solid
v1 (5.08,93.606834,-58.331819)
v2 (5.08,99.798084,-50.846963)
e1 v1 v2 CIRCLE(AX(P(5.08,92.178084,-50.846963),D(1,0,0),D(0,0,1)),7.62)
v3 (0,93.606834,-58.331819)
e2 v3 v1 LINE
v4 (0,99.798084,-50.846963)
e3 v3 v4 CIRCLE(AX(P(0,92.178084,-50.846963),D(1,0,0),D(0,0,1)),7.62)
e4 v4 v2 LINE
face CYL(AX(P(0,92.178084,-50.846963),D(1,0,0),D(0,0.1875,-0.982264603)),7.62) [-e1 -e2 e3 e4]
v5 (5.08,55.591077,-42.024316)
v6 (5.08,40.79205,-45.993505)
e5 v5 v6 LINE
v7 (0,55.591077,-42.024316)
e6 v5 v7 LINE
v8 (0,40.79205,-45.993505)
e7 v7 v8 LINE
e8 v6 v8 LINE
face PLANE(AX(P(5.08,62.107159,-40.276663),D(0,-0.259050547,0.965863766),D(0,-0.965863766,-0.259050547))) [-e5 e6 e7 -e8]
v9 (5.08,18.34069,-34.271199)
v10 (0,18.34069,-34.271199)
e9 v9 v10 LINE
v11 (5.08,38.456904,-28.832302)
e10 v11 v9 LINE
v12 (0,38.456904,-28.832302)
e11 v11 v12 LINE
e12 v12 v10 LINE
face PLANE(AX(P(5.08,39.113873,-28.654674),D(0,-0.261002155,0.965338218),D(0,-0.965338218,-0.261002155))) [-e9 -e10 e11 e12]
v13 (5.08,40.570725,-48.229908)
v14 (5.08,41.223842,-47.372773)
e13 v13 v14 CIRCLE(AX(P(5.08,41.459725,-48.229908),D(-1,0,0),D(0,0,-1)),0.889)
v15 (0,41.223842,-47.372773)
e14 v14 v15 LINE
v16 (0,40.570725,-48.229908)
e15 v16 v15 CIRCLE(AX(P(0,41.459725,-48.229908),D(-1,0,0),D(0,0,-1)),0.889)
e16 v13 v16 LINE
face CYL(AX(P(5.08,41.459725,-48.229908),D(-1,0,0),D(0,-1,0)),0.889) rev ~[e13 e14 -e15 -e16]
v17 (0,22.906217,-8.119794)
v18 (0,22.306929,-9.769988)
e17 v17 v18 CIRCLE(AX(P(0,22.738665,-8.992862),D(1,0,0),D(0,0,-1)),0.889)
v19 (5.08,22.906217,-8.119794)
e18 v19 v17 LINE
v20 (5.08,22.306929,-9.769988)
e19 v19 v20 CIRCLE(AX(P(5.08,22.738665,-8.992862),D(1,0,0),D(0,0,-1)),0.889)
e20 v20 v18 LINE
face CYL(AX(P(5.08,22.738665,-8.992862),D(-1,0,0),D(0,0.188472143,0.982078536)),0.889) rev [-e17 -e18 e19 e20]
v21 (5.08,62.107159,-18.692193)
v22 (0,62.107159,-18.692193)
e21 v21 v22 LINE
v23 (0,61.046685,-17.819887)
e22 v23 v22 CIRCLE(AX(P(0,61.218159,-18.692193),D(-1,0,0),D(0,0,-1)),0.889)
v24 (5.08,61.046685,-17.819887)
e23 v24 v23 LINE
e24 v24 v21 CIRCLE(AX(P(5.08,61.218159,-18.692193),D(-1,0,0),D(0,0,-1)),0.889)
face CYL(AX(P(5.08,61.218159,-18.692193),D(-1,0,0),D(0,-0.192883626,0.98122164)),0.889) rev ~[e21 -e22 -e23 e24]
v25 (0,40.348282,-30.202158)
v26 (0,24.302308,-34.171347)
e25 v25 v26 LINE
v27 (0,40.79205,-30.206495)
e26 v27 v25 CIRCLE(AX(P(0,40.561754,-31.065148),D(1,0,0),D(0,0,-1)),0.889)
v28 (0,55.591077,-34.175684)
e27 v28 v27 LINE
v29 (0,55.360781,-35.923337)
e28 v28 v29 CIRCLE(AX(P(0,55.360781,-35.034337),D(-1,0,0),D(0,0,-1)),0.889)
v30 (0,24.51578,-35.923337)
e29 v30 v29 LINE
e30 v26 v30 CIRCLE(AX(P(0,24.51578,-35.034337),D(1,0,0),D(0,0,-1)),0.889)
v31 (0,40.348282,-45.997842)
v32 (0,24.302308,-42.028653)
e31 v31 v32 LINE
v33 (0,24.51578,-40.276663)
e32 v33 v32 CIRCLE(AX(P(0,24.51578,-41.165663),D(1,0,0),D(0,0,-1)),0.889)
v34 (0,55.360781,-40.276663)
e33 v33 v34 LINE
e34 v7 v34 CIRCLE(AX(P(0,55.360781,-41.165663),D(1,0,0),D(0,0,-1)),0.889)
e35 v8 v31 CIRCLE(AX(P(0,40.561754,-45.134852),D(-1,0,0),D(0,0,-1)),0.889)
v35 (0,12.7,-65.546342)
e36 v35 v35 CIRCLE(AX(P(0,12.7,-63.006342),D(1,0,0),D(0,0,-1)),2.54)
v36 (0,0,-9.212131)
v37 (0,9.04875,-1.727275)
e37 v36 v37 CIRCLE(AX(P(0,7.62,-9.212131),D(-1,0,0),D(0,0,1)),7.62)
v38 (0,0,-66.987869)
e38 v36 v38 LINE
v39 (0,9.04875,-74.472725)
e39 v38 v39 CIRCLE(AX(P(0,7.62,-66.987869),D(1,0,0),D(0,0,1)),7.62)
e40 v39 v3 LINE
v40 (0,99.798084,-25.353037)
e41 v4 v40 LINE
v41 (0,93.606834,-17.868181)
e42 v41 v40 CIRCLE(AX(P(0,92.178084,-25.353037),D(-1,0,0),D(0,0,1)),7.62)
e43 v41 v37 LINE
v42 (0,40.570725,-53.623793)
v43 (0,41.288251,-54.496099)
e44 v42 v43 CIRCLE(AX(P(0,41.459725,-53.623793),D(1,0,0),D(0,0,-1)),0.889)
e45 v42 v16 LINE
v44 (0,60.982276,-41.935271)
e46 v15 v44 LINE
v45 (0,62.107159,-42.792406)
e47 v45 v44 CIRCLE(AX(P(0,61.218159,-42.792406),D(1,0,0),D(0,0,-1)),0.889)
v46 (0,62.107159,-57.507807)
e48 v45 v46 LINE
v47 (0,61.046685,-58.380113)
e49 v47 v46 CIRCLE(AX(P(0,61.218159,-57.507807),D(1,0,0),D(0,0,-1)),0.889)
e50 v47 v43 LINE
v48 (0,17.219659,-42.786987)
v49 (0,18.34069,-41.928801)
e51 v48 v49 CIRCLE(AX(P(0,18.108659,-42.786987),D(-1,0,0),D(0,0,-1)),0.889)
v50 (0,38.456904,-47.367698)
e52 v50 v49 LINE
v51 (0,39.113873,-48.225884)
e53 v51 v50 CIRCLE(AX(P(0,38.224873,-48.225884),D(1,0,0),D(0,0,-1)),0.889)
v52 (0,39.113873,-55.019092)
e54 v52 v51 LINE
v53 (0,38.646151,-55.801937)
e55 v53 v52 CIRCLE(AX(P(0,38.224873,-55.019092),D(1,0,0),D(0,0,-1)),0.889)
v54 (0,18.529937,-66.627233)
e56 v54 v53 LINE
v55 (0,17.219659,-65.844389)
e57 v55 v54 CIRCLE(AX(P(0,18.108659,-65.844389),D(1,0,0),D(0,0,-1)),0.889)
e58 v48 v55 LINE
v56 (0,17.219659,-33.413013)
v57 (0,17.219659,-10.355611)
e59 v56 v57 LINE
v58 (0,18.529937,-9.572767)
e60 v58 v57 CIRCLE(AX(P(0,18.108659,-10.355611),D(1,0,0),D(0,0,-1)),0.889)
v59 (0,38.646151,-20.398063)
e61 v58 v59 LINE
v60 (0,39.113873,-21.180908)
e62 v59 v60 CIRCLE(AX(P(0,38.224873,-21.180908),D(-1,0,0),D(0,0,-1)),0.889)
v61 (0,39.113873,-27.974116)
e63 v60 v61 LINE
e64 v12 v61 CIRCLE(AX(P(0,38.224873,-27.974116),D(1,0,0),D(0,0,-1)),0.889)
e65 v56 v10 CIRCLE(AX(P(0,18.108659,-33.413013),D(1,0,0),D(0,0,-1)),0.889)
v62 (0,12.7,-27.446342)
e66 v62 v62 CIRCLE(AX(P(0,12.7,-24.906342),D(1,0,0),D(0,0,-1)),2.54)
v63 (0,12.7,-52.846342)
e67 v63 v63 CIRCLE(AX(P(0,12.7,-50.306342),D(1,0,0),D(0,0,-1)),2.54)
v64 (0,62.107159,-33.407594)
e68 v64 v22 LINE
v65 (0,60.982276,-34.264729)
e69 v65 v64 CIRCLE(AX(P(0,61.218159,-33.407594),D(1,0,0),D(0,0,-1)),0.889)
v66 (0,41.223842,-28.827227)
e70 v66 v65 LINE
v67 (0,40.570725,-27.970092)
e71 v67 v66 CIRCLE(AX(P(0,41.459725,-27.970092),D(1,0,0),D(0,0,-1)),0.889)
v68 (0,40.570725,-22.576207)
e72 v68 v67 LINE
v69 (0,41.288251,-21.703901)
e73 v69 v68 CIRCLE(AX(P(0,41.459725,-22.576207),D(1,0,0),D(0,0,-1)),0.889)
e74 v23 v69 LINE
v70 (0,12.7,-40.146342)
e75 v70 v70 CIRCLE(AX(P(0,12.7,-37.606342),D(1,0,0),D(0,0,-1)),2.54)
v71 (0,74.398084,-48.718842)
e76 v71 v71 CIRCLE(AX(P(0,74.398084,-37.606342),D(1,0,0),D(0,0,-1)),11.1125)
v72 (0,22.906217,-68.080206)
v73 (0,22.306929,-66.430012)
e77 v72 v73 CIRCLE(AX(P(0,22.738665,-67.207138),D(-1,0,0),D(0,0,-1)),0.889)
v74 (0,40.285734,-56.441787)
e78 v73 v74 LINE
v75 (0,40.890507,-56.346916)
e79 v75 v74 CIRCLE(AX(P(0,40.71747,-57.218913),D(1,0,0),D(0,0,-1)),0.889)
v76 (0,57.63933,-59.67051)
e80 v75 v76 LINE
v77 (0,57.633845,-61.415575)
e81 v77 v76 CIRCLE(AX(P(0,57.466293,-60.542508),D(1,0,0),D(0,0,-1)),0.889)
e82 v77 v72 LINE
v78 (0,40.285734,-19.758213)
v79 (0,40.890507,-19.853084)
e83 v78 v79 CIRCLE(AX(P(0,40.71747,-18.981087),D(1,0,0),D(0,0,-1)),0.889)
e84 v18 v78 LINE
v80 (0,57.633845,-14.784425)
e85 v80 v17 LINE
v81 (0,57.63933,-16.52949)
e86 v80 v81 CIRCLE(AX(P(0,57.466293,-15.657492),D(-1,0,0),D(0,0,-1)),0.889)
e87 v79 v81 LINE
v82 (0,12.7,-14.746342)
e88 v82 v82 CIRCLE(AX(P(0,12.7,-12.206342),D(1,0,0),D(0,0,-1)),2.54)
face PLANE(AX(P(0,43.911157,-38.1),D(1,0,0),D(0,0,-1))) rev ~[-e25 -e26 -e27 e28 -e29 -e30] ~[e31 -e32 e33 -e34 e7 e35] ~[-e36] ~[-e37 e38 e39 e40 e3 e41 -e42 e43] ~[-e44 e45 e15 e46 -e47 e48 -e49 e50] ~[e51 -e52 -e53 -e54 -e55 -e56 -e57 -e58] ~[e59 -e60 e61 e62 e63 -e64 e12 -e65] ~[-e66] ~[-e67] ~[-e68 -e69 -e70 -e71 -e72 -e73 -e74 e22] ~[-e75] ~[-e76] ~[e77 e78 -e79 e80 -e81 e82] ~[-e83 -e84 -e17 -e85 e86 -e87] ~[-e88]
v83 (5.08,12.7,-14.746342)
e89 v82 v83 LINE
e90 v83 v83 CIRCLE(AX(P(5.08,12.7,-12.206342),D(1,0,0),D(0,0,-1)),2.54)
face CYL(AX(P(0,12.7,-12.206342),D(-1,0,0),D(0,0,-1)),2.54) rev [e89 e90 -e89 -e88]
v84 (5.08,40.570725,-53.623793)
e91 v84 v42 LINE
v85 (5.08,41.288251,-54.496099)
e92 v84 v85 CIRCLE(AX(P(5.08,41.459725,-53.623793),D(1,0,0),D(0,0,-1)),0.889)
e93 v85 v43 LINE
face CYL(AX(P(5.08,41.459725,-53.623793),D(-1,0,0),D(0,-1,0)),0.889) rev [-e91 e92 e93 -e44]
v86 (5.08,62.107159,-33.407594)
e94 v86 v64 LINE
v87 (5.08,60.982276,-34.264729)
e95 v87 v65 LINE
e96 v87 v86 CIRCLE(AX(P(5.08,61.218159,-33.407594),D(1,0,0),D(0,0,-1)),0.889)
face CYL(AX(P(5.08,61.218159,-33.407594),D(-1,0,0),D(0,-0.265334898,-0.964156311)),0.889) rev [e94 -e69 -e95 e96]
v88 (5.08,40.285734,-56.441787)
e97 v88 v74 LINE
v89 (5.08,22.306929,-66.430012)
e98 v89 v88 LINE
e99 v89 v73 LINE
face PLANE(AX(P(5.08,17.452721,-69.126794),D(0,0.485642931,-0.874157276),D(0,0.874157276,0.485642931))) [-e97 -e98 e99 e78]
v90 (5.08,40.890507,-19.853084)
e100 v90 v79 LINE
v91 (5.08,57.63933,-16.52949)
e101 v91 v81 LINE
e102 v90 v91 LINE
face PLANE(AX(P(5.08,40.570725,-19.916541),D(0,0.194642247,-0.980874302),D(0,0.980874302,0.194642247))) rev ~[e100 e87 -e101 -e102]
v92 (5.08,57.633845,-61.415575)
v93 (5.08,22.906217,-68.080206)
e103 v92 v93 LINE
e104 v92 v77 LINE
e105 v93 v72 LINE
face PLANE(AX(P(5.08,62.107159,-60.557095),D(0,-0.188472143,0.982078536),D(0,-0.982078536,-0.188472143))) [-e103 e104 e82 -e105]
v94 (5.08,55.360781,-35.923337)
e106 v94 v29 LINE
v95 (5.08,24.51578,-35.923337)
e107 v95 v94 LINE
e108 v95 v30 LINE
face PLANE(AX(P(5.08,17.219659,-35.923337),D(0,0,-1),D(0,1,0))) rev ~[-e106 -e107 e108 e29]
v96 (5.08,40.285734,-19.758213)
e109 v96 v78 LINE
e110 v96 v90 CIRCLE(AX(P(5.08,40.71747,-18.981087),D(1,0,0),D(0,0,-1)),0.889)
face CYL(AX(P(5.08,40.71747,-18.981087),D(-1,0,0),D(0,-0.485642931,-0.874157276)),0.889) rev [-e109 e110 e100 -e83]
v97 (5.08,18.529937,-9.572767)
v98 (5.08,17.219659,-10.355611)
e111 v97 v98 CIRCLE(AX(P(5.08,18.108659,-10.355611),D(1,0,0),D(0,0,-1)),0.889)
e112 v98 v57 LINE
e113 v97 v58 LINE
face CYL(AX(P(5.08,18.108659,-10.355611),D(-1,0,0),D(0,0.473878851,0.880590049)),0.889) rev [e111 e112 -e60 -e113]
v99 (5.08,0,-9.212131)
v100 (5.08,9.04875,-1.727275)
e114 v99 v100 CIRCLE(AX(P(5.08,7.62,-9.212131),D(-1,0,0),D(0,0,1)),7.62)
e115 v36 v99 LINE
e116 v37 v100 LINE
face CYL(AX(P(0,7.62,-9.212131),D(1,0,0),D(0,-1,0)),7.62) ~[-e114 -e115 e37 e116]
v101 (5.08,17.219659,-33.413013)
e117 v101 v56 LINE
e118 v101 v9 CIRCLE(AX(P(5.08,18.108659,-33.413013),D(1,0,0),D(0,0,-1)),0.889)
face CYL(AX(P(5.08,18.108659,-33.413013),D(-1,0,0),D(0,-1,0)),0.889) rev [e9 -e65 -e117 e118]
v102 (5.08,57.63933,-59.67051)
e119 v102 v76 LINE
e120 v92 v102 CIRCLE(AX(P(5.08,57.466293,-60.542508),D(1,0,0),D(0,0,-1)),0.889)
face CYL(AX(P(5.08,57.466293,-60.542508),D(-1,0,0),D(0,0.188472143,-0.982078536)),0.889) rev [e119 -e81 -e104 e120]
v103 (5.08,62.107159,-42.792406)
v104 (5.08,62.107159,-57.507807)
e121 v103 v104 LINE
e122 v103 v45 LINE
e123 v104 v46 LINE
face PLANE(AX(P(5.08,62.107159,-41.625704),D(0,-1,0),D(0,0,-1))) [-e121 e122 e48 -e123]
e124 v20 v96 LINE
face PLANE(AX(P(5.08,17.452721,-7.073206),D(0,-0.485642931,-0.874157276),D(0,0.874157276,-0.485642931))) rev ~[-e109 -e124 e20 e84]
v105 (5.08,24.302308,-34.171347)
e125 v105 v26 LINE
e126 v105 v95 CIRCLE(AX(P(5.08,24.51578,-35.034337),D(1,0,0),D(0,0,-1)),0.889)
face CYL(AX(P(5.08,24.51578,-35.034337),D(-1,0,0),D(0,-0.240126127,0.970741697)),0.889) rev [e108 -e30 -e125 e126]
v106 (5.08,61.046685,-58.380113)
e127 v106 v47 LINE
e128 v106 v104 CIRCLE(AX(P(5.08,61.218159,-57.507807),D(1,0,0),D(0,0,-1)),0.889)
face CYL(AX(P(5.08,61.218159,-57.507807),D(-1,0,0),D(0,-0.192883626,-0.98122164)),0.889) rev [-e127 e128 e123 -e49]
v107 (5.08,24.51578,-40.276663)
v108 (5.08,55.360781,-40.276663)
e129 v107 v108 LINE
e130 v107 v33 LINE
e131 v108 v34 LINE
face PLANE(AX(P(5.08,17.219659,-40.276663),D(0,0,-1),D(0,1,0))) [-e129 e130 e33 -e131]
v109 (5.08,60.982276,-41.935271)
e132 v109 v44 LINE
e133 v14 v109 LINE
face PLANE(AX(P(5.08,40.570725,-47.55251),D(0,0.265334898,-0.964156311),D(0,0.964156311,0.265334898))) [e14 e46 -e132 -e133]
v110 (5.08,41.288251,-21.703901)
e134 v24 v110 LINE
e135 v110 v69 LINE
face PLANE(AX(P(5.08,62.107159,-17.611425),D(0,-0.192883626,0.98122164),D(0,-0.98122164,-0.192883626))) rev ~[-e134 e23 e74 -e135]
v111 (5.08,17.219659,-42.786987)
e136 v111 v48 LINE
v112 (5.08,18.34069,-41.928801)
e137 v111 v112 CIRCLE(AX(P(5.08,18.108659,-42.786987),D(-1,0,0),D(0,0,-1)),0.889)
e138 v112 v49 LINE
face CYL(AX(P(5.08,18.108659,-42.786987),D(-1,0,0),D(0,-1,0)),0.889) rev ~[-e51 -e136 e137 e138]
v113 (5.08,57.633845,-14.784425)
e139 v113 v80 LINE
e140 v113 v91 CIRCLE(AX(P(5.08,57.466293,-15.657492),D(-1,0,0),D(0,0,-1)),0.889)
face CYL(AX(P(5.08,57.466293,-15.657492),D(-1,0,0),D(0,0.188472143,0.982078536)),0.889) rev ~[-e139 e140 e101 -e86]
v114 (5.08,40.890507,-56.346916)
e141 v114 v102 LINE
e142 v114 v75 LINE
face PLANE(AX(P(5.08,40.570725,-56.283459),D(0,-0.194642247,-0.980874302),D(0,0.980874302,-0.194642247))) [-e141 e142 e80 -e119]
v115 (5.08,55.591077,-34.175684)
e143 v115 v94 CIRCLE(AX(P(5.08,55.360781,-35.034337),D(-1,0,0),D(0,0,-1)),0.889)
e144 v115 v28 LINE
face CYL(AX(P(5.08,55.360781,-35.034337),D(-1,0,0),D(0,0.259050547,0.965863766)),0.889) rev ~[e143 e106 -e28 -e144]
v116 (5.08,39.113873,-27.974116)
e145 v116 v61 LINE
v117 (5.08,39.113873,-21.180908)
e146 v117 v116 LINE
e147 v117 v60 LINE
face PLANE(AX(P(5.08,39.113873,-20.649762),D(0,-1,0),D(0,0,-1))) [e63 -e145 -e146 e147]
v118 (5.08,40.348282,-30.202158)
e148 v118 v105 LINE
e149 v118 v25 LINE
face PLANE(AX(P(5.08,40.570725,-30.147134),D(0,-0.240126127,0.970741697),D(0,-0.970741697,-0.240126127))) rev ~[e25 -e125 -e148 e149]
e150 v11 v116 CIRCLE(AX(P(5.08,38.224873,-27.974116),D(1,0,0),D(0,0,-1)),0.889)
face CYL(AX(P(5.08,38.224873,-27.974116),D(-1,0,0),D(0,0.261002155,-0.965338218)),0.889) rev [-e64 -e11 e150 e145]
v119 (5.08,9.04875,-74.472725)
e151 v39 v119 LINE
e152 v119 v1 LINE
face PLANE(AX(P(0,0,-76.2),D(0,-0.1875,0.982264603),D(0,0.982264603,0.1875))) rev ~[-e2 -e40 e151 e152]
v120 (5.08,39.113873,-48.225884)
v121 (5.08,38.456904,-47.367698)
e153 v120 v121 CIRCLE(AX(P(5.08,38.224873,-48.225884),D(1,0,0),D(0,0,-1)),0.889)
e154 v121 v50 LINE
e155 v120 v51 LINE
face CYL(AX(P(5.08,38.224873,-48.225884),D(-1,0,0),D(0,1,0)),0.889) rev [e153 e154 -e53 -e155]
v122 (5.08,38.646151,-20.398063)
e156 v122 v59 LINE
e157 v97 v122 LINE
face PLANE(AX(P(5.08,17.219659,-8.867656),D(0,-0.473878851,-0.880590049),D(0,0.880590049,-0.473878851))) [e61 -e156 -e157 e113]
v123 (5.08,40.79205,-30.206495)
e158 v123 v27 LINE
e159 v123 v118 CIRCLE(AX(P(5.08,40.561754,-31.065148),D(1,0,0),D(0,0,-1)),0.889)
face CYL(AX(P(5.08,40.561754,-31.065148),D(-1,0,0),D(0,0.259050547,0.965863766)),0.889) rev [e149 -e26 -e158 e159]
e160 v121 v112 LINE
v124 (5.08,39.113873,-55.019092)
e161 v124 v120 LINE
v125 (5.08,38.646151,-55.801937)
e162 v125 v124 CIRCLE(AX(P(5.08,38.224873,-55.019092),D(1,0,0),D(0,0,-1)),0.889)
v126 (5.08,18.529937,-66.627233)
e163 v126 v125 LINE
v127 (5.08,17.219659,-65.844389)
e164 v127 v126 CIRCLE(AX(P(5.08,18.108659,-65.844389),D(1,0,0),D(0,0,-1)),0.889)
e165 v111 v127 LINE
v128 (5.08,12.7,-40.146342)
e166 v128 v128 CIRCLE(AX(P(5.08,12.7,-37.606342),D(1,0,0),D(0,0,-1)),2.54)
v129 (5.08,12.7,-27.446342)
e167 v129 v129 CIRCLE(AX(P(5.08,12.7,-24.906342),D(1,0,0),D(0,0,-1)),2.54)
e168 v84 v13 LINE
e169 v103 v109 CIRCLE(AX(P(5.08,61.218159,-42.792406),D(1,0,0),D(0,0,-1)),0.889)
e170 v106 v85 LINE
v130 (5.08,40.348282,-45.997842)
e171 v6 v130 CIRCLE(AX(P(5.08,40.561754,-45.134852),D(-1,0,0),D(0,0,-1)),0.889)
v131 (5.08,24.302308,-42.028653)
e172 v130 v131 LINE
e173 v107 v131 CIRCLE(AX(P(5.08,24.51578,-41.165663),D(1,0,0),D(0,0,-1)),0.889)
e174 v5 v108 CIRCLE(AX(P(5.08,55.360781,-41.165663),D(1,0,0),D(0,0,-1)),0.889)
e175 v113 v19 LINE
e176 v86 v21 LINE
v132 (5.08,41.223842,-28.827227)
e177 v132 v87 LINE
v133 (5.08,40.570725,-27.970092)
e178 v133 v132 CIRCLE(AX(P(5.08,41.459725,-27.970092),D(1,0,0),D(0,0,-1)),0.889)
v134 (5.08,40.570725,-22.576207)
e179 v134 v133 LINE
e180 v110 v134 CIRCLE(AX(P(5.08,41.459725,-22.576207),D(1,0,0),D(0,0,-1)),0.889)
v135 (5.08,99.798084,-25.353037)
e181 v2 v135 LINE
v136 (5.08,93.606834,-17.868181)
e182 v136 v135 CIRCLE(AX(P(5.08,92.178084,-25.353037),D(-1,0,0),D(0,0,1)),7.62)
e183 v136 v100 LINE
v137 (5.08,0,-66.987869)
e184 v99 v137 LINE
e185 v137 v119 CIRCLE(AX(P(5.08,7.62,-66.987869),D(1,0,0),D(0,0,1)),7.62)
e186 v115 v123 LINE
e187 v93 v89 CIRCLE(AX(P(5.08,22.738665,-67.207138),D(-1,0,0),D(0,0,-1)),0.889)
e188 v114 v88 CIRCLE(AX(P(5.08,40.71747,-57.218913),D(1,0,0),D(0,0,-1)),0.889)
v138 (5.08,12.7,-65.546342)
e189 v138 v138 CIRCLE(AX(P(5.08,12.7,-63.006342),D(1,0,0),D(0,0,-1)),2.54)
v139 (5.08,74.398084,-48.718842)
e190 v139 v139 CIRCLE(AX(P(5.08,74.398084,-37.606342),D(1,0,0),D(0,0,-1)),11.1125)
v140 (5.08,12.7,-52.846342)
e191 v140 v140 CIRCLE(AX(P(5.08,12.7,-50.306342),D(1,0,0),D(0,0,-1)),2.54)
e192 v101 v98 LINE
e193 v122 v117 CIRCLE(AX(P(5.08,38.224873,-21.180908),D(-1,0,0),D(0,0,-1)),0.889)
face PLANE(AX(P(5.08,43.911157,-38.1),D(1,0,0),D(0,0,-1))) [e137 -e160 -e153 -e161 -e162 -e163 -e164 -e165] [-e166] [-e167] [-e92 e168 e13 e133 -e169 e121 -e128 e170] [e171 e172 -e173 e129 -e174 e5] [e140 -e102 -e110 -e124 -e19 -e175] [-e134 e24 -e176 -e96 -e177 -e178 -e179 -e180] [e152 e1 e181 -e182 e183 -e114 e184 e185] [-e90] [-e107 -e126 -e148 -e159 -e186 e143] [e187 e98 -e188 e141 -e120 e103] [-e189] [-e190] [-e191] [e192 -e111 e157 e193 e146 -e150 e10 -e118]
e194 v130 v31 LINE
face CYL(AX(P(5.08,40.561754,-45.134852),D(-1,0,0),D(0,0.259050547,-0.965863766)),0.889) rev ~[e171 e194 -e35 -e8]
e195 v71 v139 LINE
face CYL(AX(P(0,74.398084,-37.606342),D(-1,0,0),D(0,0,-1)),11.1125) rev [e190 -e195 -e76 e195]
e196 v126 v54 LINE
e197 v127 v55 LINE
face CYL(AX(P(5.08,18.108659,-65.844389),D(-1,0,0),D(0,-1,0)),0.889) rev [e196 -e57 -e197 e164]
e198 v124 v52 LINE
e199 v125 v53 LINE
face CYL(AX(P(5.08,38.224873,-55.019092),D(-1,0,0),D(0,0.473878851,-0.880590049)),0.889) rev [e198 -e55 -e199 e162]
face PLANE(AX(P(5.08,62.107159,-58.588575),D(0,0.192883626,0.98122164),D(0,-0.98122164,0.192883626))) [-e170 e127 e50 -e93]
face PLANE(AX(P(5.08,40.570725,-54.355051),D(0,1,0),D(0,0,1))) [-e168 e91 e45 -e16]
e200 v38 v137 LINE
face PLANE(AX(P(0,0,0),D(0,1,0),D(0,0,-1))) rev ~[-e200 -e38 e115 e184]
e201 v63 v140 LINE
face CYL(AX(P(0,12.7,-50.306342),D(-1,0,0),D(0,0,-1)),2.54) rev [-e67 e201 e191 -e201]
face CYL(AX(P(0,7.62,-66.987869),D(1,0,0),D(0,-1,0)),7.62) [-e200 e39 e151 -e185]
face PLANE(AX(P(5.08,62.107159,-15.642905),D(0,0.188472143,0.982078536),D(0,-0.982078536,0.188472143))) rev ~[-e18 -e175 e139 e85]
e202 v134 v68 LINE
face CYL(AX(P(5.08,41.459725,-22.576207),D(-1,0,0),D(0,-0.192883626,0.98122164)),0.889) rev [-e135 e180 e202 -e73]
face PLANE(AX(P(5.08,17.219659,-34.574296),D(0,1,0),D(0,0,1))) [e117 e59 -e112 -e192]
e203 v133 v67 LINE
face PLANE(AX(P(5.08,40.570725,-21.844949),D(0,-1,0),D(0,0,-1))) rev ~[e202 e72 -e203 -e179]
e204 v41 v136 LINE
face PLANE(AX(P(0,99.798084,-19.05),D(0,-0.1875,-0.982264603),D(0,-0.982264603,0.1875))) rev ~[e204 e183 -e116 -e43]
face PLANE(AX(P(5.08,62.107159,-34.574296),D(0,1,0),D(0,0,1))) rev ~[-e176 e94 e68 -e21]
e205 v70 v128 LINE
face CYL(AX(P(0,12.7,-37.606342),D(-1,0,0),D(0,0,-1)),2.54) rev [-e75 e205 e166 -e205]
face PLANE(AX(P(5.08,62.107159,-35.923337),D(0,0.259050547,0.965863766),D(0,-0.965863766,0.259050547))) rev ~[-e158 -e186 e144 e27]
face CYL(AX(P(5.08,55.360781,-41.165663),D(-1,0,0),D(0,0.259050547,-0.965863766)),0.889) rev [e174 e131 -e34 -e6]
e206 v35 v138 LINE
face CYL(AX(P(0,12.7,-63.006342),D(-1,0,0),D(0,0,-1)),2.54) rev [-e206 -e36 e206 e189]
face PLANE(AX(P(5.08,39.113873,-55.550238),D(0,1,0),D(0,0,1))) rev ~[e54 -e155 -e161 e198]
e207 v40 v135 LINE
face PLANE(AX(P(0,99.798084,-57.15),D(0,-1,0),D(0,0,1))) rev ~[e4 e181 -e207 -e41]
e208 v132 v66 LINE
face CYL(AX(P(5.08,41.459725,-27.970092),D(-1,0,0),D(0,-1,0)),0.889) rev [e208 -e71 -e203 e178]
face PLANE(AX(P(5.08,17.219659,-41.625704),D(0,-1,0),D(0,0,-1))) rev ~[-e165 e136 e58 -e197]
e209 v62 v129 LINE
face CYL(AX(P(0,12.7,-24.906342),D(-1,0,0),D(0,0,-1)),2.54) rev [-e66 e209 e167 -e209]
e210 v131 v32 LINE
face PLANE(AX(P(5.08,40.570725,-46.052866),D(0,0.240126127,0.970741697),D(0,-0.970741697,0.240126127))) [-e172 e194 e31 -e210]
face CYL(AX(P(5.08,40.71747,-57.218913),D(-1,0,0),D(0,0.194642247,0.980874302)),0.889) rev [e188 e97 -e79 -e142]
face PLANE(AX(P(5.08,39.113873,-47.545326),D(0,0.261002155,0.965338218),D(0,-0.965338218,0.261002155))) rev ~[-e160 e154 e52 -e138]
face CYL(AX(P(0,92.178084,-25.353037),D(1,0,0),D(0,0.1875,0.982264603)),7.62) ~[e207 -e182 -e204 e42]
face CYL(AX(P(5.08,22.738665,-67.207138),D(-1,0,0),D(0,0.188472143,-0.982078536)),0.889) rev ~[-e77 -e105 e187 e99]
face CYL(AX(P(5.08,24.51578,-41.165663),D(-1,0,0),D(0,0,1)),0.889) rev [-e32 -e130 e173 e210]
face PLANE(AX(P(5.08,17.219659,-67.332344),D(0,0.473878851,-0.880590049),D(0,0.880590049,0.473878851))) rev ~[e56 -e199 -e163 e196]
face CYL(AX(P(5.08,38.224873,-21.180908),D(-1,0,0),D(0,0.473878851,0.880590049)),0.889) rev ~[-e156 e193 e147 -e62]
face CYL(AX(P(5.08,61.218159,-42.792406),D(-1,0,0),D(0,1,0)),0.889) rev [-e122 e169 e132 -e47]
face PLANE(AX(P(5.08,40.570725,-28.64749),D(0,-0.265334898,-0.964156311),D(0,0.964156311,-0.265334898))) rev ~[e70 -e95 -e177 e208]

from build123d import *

# Parameters (mm, degrees)
SKETCH1_R           = 11.1125
SKETCH1_R_2         = 2.54
BOSS_EXTRUDE2_DEPTH = 5.08
FILLET1_R           = 7.62
CUT_EXTRUDE1_DEPTH  = 125.706848436
FILLET2_R           = 0.889


with BuildPart() as part:
    # Sketch1 → Boss-Extrude2 (new body)
    with BuildSketch(Plane(origin=(0, 0, 0), x_dir=(0, 0, -1), z_dir=(1, 0, 0))):
        Polygon((0, 0), (76.2, 0), (57.15, 99.798083649), (19.05, 99.798083649), align=None)
        with Locations((37.606341954, 74.398083649)):
            Circle(SKETCH1_R, mode=Mode.SUBTRACT)
        with Locations((37.606341954, 12.7)):
            Circle(SKETCH1_R_2, mode=Mode.SUBTRACT)
        with Locations((50.306341954, 12.7)):
            Circle(SKETCH1_R_2, mode=Mode.SUBTRACT)
        with Locations((63.006341954, 12.7)):
            Circle(SKETCH1_R_2, mode=Mode.SUBTRACT)
        with Locations((24.906341954, 12.7)):
            Circle(SKETCH1_R_2, mode=Mode.SUBTRACT)
        with Locations((12.206341954, 12.7)):
            Circle(SKETCH1_R_2, mode=Mode.SUBTRACT)
    extrude(amount=BOSS_EXTRUDE2_DEPTH)

    # Fillet1
    fillet1_edges = [part.edges().sort_by_distance(p)[0] for p in [
        (2.54, 99.798083649, -19.05),
        (2.54, 99.798083649, -57.15),
        (2.54, 0, -76.2),
        (2.54, 0, 0),
    ]]
    fillet(fillet1_edges, radius=FILLET1_R)

    # Sketch2 → Cut-Extrude1 (cut, through all)
    with BuildSketch(Plane(origin=(5.08, 0, 0), x_dir=(0, 0, -1), z_dir=(1, 0, 0))):
        Polygon((15.642904874, 62.107158672), (7.073205763, 17.452721053), (19.916541068, 40.570724603), align=None)
        Polygon((17.611424893, 62.107158672), (21.844949021, 40.570724603), (28.647489973, 40.570724603), (34.574296097, 62.107158672), align=None)
        Polygon((35.923336714, 62.107158672), (30.147133884, 40.570724603), (35.923336714, 17.219658997), align=None)
        Polygon((20.649761965, 39.113872964), (28.654674446, 39.113872964), (34.574296097, 17.219658997), (8.867656367, 17.219658997), align=None)
        Polygon((46.052866116, 40.570724603), (40.276663286, 17.219658997), (40.276663286, 62.107158672), align=None)
        Polygon((41.625703903, 17.219658997), (67.332343633, 17.219658997), (55.550238035, 39.113872964), (47.545325554, 39.113872964), align=None)
        Polygon((69.126794237, 17.452721053), (56.283458932, 40.570724603), (60.557095126, 62.107158672), align=None)
        Polygon((47.552510027, 40.570724603), (41.625703903, 62.107158672), (58.588575107, 62.107158672), (54.355050979, 40.570724603), align=None)
    extrude(amount=-CUT_EXTRUDE1_DEPTH, mode=Mode.SUBTRACT)

    # Fillet2
    fillet2_edges = [part.edges().sort_by_distance(p)[0] for p in [
        (2.54, 62.107158672, -17.611424893),
        (2.54, 62.107158672, -34.574296097),
        (2.54, 40.570724603, -28.647489973),
        (2.54, 40.570724603, -21.844949021),
        (2.54, 62.107158672, -35.923336714),
        (2.54, 17.219658997, -35.923336714),
        (2.54, 40.570724603, -30.147133884),
        (2.54, 40.570724603, -54.355050979),
        (2.54, 40.570724603, -47.552510027),
        (2.54, 62.107158672, -41.625703903),
        (2.54, 62.107158672, -58.588575107),
        (2.54, 17.219658997, -41.625703903),
        (2.54, 39.113872964, -47.545325554),
        (2.54, 39.113872964, -55.550238035),
        (2.54, 17.219658997, -67.332343633),
        (2.54, 62.107158672, -60.557095126),
        (2.54, 17.452721053, -69.126794237),
        (2.54, 40.570724603, -56.283458932),
        (2.54, 62.107158672, -15.642904874),
        (2.54, 40.570724603, -19.916541068),
        (2.54, 17.452721053, -7.073205763),
        (2.54, 62.107158672, -40.276663286),
        (2.54, 40.570724603, -46.052866116),
        (2.54, 17.219658997, -40.276663286),
        (2.54, 17.219658997, -34.574296097),
        (2.54, 17.219658997, -8.867656367),
        (2.54, 39.113872964, -20.649761965),
        (2.54, 39.113872964, -28.654674446),
    ]]
    fillet(fillet2_edges, radius=FILLET2_R)


solid = part.part
